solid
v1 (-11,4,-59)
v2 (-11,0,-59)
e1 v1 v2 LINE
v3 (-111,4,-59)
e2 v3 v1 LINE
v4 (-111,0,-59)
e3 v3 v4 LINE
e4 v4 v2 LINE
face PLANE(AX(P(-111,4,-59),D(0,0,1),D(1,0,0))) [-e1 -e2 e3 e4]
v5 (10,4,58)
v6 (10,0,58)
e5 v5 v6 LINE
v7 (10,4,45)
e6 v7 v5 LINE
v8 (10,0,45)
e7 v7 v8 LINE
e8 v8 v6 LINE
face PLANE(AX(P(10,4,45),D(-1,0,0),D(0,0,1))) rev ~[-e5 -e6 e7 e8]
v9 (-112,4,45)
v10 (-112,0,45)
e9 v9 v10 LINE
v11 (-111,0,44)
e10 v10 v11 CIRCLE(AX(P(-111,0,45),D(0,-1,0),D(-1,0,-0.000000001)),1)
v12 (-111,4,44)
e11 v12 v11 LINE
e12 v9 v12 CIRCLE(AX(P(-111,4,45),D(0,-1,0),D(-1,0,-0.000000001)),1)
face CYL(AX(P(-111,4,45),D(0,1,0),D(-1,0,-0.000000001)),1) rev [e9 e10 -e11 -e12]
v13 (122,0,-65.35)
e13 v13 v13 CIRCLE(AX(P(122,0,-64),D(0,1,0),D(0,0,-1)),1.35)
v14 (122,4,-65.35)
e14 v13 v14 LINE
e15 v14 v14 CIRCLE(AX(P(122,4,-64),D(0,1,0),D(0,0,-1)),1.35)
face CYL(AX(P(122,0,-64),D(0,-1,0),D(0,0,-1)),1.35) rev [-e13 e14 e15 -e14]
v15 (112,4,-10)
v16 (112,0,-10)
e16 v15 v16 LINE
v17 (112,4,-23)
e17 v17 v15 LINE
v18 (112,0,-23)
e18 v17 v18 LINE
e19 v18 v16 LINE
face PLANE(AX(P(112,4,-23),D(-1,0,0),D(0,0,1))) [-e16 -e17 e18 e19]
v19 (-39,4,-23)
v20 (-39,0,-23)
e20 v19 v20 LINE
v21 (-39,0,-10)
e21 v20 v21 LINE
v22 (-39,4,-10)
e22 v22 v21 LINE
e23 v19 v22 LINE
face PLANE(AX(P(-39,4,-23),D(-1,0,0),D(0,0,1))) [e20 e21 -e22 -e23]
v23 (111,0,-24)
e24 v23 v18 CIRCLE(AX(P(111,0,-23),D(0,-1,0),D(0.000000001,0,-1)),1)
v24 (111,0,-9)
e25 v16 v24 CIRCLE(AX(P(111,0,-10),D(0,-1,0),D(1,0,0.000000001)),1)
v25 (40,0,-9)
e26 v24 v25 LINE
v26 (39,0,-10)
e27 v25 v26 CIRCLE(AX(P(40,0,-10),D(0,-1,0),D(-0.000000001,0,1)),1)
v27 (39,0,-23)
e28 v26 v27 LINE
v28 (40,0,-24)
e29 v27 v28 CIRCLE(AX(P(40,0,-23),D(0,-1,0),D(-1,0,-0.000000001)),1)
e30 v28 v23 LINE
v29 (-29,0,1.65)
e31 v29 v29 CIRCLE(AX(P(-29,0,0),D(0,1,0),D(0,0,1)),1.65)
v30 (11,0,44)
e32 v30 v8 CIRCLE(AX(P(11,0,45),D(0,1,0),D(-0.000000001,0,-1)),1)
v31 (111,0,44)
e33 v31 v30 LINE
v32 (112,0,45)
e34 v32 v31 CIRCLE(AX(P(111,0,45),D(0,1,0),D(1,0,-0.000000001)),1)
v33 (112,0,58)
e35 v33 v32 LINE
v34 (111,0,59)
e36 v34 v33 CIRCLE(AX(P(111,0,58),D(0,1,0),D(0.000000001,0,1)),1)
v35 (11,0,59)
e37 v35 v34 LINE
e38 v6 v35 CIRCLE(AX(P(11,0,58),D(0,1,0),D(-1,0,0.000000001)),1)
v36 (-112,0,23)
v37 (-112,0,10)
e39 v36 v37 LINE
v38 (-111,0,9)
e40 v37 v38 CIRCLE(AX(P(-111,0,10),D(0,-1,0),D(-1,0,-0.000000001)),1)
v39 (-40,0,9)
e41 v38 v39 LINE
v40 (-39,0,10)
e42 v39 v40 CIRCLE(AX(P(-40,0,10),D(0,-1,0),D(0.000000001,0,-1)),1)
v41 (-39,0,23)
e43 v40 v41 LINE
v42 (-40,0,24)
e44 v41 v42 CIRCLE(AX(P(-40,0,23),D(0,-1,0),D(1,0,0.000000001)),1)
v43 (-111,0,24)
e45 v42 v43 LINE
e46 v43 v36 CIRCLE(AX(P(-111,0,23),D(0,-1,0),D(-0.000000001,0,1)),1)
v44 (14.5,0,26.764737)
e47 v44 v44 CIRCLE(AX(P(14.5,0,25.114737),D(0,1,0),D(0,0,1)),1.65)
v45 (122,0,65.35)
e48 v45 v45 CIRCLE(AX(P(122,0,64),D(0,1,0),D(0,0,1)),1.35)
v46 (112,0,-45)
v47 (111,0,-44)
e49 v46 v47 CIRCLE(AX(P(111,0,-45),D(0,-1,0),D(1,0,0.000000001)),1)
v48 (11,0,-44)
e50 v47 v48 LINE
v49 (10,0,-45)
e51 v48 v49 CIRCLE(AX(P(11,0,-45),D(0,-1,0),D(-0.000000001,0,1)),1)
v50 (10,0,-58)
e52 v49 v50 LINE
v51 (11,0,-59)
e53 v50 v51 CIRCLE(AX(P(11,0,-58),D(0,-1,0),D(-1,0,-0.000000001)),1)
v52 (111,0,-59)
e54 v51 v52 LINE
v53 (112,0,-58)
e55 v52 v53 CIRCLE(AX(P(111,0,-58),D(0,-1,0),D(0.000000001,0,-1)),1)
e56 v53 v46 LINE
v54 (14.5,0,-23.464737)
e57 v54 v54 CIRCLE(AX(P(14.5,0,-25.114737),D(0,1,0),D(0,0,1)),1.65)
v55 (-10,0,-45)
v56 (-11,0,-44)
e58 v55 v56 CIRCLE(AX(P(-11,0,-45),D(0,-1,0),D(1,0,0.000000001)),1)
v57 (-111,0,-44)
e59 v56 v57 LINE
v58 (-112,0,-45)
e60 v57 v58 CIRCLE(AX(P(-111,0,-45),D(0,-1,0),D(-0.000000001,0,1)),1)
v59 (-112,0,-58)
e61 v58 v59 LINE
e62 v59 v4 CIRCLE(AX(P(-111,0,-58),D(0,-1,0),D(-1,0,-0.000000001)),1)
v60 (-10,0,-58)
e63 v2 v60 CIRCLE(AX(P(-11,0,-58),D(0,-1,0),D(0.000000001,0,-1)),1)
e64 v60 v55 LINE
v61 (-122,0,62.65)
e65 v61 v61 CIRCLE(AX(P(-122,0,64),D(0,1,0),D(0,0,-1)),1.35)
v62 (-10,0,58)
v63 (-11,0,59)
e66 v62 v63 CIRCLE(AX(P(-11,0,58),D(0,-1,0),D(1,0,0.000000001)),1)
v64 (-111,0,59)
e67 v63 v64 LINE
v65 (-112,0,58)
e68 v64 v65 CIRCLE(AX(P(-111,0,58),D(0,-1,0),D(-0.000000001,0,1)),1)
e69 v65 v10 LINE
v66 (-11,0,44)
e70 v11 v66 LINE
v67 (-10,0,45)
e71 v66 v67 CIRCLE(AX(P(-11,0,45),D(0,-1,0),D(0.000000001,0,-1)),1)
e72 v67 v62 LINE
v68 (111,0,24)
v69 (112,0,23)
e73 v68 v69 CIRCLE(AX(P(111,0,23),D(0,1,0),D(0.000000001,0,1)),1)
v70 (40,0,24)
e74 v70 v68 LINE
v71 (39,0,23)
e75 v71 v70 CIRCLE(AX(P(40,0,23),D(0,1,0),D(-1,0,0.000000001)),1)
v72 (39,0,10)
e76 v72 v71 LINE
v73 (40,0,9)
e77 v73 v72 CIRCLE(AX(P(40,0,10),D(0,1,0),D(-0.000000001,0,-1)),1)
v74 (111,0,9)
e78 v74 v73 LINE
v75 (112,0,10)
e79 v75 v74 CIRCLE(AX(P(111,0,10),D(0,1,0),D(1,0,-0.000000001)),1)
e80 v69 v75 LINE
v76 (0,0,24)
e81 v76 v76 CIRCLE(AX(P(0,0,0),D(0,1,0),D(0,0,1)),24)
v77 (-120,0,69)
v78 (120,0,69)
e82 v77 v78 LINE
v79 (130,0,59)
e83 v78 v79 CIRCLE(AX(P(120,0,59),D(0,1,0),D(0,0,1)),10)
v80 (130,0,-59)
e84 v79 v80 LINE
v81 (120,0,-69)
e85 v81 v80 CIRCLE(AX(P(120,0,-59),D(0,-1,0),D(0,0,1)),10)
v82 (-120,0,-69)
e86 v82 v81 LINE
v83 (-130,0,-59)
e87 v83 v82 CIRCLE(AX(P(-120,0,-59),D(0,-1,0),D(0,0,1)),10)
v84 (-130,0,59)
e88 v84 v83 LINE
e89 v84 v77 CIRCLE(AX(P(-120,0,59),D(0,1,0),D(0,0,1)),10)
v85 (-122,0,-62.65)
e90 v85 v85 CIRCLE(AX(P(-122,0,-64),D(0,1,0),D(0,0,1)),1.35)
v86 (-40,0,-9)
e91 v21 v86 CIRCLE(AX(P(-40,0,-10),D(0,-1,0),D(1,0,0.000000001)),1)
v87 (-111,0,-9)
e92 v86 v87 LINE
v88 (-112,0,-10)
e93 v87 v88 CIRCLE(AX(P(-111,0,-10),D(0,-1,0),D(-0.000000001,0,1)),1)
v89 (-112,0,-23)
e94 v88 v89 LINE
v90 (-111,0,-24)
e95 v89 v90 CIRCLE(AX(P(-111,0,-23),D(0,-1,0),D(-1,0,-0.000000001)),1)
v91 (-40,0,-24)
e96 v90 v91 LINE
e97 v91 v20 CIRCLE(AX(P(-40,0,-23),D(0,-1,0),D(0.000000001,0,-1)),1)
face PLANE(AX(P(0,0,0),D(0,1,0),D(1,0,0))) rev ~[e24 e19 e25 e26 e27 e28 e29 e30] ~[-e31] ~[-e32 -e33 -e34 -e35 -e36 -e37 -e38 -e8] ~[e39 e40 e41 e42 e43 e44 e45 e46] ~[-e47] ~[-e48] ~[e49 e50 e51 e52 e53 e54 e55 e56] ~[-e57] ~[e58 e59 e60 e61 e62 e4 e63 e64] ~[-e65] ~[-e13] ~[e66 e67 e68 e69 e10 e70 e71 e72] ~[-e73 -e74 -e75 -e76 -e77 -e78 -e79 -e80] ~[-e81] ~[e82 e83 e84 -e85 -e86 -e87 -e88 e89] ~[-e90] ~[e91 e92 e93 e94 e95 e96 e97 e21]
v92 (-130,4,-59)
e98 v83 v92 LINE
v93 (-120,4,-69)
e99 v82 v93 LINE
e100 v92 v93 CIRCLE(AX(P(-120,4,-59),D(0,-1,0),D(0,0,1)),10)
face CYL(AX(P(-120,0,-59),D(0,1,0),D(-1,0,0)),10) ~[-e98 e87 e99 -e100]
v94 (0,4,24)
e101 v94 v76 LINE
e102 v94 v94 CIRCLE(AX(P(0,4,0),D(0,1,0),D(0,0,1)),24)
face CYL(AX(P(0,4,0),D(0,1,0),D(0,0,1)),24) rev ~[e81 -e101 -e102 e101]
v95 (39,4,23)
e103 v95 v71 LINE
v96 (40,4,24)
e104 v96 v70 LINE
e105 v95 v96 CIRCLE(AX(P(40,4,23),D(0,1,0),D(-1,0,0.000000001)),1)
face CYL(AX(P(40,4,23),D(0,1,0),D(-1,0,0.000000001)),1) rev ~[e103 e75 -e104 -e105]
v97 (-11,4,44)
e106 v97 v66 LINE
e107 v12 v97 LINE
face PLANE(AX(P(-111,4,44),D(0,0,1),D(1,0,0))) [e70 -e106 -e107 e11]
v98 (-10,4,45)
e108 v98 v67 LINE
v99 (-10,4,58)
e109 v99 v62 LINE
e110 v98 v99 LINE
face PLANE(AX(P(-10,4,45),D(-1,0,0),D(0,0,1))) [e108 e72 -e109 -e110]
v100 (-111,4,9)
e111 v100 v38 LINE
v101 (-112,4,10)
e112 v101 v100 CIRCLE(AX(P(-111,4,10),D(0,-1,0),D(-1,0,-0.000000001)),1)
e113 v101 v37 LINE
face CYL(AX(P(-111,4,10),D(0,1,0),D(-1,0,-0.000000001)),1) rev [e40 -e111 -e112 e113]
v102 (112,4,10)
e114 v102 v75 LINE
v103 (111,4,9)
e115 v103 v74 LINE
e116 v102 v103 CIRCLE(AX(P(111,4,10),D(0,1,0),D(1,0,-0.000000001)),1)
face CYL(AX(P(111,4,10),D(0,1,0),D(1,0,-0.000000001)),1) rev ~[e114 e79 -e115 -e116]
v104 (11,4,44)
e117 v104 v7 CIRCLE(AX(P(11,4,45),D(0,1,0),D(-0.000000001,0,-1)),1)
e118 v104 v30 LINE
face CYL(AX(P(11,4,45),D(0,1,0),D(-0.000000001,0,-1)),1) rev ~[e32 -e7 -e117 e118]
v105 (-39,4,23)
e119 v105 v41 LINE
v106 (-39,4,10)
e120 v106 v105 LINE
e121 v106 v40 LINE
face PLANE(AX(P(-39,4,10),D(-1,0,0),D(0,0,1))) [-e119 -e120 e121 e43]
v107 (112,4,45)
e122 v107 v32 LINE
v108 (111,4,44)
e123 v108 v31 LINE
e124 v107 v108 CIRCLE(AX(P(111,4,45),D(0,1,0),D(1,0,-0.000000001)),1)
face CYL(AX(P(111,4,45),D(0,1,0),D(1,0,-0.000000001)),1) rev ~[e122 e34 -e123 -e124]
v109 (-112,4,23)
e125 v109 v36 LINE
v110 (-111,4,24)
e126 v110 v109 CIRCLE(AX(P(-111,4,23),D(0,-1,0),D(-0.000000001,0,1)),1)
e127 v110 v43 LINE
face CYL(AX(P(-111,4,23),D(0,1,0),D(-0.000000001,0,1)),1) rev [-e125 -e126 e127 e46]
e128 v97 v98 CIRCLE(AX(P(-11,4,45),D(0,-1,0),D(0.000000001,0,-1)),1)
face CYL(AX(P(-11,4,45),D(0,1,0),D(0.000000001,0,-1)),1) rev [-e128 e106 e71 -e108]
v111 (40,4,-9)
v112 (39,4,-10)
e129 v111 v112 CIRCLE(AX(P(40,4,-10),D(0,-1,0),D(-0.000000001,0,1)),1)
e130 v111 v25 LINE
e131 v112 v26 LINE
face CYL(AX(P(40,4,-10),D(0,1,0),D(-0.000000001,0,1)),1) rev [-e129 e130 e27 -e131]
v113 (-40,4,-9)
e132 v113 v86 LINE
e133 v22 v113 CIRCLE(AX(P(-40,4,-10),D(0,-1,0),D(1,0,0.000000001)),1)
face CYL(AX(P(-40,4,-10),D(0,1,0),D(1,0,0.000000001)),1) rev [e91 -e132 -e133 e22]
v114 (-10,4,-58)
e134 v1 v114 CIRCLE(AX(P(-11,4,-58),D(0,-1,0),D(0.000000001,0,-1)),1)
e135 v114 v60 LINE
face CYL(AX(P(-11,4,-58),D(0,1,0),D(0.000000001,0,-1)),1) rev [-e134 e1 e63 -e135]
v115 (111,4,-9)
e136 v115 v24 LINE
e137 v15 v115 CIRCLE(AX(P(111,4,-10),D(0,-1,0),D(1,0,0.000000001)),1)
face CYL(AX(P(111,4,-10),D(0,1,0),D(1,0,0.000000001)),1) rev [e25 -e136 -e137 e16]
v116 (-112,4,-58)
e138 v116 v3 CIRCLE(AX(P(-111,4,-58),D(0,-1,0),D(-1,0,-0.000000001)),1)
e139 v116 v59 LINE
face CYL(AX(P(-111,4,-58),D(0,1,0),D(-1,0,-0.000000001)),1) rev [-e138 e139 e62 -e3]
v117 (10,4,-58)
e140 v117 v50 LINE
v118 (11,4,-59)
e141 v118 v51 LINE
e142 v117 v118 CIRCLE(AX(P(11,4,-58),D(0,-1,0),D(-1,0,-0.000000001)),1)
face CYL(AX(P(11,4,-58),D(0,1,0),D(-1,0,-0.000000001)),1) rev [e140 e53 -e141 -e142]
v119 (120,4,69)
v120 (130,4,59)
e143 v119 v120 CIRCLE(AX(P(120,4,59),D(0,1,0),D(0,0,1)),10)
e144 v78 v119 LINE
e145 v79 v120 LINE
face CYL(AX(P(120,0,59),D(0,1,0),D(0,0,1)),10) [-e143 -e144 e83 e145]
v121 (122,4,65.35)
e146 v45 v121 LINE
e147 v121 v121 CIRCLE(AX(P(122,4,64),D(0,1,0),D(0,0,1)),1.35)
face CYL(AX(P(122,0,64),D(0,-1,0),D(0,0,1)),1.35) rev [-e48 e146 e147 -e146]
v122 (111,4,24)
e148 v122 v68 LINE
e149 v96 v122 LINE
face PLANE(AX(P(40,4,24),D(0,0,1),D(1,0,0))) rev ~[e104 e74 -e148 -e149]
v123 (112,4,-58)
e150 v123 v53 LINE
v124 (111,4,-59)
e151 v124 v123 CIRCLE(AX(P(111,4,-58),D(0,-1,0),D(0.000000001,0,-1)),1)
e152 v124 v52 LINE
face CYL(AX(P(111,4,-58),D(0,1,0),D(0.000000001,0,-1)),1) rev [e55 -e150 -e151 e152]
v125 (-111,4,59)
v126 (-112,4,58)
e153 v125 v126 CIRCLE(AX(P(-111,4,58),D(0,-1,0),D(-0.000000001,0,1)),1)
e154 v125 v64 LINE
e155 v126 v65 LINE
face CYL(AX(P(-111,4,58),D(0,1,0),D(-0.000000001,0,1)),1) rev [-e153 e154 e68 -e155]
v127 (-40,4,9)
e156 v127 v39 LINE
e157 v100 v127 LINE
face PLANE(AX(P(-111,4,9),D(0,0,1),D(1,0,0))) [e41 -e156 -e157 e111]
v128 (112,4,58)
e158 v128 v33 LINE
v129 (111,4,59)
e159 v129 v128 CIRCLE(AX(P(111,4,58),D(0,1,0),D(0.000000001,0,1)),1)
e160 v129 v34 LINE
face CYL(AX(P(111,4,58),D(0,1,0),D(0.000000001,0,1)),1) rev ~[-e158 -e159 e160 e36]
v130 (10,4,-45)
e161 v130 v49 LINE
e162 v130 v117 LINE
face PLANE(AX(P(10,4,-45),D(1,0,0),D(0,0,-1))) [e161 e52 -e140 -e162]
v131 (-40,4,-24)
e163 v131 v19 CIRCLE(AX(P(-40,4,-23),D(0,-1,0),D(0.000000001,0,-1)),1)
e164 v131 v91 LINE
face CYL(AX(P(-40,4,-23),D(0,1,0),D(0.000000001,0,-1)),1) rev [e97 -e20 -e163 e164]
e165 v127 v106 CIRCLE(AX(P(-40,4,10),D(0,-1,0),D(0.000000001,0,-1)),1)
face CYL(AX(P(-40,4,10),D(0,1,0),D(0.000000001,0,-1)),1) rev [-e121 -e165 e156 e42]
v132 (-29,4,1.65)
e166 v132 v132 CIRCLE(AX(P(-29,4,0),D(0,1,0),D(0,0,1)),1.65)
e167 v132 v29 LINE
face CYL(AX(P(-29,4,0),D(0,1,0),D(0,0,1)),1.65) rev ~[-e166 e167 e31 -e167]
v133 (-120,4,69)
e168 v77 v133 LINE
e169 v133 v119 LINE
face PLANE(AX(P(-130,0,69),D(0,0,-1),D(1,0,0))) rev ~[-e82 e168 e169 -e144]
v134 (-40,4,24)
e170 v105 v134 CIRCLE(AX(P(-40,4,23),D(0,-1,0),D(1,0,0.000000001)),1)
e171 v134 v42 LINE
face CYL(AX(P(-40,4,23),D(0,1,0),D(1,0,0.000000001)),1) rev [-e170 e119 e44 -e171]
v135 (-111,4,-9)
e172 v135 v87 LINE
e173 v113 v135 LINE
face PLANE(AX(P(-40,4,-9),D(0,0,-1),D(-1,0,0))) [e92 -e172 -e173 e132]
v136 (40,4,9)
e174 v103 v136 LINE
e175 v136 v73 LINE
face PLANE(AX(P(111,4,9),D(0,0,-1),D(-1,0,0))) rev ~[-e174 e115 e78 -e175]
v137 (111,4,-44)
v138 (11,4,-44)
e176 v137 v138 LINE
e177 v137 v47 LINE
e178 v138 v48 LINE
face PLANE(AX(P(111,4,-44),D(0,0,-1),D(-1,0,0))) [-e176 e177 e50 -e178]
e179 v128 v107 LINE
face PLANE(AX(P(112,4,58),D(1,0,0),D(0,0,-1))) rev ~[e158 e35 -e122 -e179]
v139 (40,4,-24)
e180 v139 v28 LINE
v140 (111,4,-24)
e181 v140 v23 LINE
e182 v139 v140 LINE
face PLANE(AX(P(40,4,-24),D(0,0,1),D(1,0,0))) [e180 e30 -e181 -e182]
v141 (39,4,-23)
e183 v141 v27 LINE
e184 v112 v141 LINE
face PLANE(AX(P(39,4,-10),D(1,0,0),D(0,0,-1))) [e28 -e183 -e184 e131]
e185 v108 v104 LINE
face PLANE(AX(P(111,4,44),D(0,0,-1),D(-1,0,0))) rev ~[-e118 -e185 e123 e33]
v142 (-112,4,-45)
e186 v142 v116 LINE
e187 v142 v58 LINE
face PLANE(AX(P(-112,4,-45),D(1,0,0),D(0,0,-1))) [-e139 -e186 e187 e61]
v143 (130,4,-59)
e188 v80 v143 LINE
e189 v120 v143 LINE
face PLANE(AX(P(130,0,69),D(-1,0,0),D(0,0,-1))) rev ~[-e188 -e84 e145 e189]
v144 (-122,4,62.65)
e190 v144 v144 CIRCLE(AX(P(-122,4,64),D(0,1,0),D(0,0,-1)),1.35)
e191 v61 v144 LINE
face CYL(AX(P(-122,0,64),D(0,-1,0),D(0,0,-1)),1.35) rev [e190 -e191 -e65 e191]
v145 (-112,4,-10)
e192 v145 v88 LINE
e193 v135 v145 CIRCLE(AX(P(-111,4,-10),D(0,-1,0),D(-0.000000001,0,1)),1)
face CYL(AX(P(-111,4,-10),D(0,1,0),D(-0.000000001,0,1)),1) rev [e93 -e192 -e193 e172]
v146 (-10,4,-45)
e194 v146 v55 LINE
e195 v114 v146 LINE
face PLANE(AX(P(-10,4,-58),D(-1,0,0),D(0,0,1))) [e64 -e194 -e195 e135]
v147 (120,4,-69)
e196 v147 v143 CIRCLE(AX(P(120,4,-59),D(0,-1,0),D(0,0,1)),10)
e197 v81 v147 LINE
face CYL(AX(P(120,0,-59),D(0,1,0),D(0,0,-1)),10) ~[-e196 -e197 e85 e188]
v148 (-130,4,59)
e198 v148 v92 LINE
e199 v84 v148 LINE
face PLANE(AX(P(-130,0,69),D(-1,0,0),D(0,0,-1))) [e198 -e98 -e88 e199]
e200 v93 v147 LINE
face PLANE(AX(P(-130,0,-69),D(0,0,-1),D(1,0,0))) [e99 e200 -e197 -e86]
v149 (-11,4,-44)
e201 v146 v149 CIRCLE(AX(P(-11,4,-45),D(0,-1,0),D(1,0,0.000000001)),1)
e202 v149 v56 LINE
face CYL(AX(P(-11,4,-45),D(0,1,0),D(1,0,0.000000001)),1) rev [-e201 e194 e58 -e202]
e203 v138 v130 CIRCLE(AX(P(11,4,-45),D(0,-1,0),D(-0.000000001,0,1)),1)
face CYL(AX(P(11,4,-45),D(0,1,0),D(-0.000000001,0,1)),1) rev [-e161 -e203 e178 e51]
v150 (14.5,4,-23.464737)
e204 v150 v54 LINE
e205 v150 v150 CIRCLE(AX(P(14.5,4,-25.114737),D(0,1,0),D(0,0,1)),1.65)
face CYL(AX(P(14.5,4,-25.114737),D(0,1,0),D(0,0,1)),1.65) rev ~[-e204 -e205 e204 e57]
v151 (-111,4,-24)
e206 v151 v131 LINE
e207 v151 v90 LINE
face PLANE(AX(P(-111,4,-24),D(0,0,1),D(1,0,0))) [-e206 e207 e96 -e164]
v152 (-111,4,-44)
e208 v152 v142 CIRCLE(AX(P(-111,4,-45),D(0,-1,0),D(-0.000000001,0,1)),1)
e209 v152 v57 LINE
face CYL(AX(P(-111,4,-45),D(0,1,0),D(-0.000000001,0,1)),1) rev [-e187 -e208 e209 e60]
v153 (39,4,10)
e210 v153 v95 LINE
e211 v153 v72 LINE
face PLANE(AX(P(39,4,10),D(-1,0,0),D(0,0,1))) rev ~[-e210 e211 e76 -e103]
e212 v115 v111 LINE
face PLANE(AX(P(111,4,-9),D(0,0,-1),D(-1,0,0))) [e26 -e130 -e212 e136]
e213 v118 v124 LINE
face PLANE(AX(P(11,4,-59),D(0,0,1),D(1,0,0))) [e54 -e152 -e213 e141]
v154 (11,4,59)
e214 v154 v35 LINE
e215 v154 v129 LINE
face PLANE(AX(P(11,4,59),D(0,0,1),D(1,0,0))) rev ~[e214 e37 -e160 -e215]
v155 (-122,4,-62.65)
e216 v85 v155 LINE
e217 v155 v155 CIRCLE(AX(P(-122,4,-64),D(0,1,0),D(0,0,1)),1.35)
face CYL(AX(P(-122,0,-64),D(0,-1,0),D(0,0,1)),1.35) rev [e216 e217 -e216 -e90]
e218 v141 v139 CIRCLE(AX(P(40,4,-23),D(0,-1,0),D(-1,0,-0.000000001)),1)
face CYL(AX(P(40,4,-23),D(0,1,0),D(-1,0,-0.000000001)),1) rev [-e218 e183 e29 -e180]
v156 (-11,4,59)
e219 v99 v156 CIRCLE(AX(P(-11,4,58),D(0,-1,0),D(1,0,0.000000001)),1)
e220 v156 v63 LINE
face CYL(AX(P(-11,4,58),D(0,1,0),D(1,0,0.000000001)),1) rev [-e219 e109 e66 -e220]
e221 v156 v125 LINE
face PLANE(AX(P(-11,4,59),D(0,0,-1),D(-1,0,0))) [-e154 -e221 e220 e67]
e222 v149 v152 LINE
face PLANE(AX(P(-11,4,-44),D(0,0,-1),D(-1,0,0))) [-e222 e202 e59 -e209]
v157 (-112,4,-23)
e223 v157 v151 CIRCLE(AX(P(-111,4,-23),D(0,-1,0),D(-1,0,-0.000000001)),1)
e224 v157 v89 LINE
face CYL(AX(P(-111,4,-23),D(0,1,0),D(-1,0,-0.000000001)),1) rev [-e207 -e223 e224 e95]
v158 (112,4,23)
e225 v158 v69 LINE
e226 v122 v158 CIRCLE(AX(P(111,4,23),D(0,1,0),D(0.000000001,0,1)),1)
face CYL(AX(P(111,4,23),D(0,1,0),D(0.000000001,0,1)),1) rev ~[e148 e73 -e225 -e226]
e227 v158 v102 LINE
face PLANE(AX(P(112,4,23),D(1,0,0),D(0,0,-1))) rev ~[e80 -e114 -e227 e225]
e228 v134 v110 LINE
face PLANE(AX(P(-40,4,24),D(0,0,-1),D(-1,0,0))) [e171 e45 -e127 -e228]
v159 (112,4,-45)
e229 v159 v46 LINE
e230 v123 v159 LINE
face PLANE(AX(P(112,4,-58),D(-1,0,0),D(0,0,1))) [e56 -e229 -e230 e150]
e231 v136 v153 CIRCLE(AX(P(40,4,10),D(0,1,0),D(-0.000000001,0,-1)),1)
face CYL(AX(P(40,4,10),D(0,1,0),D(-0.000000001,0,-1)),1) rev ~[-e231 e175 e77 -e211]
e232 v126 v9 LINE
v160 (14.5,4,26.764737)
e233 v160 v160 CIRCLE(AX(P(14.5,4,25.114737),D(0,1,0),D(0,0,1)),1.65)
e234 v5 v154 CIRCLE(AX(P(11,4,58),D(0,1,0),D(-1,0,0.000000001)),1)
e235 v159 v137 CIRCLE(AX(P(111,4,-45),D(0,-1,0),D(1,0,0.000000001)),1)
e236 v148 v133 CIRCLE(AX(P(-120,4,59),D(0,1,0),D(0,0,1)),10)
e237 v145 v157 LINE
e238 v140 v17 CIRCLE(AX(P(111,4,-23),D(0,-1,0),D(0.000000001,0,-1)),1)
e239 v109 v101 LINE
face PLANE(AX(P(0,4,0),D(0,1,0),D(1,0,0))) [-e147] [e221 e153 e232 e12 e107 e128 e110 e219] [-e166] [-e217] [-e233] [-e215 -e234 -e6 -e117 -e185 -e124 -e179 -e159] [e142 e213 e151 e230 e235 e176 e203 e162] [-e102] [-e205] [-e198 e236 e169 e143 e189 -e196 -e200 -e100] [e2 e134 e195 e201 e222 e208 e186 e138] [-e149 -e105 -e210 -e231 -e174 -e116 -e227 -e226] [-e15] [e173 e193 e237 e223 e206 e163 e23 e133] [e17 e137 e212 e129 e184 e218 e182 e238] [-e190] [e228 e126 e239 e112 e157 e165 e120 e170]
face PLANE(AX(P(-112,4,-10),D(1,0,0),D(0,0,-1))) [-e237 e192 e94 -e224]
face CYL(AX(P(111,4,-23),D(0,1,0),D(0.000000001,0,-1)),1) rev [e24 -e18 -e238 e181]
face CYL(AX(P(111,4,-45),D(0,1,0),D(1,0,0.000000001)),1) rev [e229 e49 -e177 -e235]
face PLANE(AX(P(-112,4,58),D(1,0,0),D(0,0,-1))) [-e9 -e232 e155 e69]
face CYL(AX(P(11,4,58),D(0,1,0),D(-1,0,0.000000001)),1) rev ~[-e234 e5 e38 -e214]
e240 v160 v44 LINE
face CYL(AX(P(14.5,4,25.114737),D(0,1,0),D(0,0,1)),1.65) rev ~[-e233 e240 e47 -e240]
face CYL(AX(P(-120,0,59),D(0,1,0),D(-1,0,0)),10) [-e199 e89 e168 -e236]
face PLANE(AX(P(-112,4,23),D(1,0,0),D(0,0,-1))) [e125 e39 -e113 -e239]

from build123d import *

# Parameters (mm, degrees)
SKETCH_1_W          = 260
SKETCH_1_H          = 138
SKETCH_1_R          = 1.35
EXTRUDE_1_DEPTH     = 4
SKETCH_3_R          = 24
SKETCH_3_R_2        = 1.65
CUT_EXTRUDE_1_DEPTH = 4
CUT_EXTRUDE_3_DEPTH = 4
FILLET_1_R          = 10


with BuildPart() as part:
    # 草图1 → 凸台-拉伸1 (new body)
    with BuildSketch(Plane(origin=(0, 0, 0), x_dir=(1, 0, 0), z_dir=(0, 1, 0))):
        Rectangle(SKETCH_1_W, SKETCH_1_H)
        with Locations(Location((-122, 64, 0), (0, 0, 270))):
            Circle(SKETCH_1_R, mode=Mode.SUBTRACT)
        with Locations(Location((122, 64, 0), (0, 0, 90))):
            Circle(SKETCH_1_R, mode=Mode.SUBTRACT)
        with Locations(Location((122, -64, 0), (0, 0, 270))):
            Circle(SKETCH_1_R, mode=Mode.SUBTRACT)
        with Locations(Location((-122, -64, 0), (0, 0, 90))):
            Circle(SKETCH_1_R, mode=Mode.SUBTRACT)
    extrude(amount=EXTRUDE_1_DEPTH)

    # 草图3 → 切除-拉伸1 (cut)
    with BuildSketch(Plane(origin=(0, 4, 0), x_dir=(1, 0, 0), z_dir=(0, 1, 0))):
        with Locations(Location((0, 0, 0), (0, 0, 270))):
            Circle(SKETCH_3_R)
        with Locations(Location((-29, 0, 0), (0, 0, 270))):
            Circle(SKETCH_3_R_2)
        with Locations(Location((14.5, 25.11473671, 0), (0, 0, 270))):
            Circle(SKETCH_3_R_2)
        with Locations(Location((14.5, -25.11473671, 0), (0, 0, 270))):
            Circle(SKETCH_3_R_2)
    extrude(amount=-CUT_EXTRUDE_1_DEPTH, mode=Mode.SUBTRACT)

    # 草图4 → 切除-拉伸3 (cut)
    with BuildSketch(Plane(origin=(0, 4, 0), x_dir=(1, 0, 0), z_dir=(0, 1, 0))):
        with BuildLine():
            Line((-111, 59), (-11, 59))
            ThreePointArc((-11, 59), (-10.292893219, 58.707106781), (-10, 58))
            Line((-10, 58), (-10, 45))
            ThreePointArc((-10, 45), (-10.292893219, 44.292893219), (-11, 44))
            Line((-11, 44), (-111, 44))
            ThreePointArc((-111, 44), (-111.707106781, 44.292893219), (-112, 45))
            Line((-112, 45), (-112, 58))
            ThreePointArc((-112, 58), (-111.707106781, 58.707106781), (-111, 59))
        make_face()
        with BuildLine():
            Line((-111, 24), (-40, 24))
            ThreePointArc((-40, 24), (-39.292893219, 23.707106781), (-39, 23))
            Line((-39, 23), (-39, 10))
            ThreePointArc((-39, 10), (-39.292893219, 9.292893219), (-40, 9))
            Line((-40, 9), (-111, 9))
            ThreePointArc((-111, 9), (-111.707106781, 9.292893219), (-112, 10))
            Line((-112, 10), (-112, 23))
            ThreePointArc((-112, 23), (-111.707106781, 23.707106781), (-111, 24))
        make_face()
        with BuildLine():
            Line((111, 9), (40, 9))
            ThreePointArc((40, 9), (39.292893219, 9.292893219), (39, 10))
            Line((39, 10), (39, 23))
            ThreePointArc((39, 23), (39.292893219, 23.707106781), (40, 24))
            Line((40, 24), (111, 24))
            ThreePointArc((111, 24), (111.707106781, 23.707106781), (112, 23))
            Line((112, 23), (112, 10))
            ThreePointArc((112, 10), (111.707106781, 9.292893219), (111, 9))
        make_face()
        with BuildLine():
            Line((111, 44), (11, 44))
            ThreePointArc((11, 44), (10.292893219, 44.292893219), (10, 45))
            Line((10, 45), (10, 58))
            ThreePointArc((10, 58), (10.292893219, 58.707106781), (11, 59))
            Line((11, 59), (111, 59))
            ThreePointArc((111, 59), (111.707106781, 58.707106781), (112, 58))
            Line((112, 58), (112, 45))
            ThreePointArc((112, 45), (111.707106781, 44.292893219), (111, 44))
        make_face()
        with BuildLine():
            Line((111, -9), (40, -9))
            ThreePointArc((40, -9), (39.292893219, -9.292893219), (39, -10))
            Line((39, -10), (39, -23))
            ThreePointArc((39, -23), (39.292893219, -23.707106781), (40, -24))
            Line((40, -24), (111, -24))
            ThreePointArc((111, -24), (111.707106781, -23.707106781), (112, -23))
            Line((112, -23), (112, -10))
            ThreePointArc((112, -10), (111.707106781, -9.292893219), (111, -9))
        make_face()
        with BuildLine():
            Line((-111, -9), (-40, -9))
            ThreePointArc((-40, -9), (-39.292893219, -9.292893219), (-39, -10))
            Line((-39, -10), (-39, -23))
            ThreePointArc((-39, -23), (-39.292893219, -23.707106781), (-40, -24))
            Line((-40, -24), (-111, -24))
            ThreePointArc((-111, -24), (-111.707106781, -23.707106781), (-112, -23))
            Line((-112, -23), (-112, -10))
            ThreePointArc((-112, -10), (-111.707106781, -9.292893219), (-111, -9))
        make_face()
        with BuildLine():
            Line((111, -44), (11, -44))
            ThreePointArc((11, -44), (10.292893219, -44.292893219), (10, -45))
            Line((10, -45), (10, -58))
            ThreePointArc((10, -58), (10.292893219, -58.707106781), (11, -59))
            Line((11, -59), (111, -59))
            ThreePointArc((111, -59), (111.707106781, -58.707106781), (112, -58))
            Line((112, -58), (112, -45))
            ThreePointArc((112, -45), (111.707106781, -44.292893219), (111, -44))
        make_face()
        with BuildLine():
            Line((-111, -44), (-11, -44))
            ThreePointArc((-11, -44), (-10.292893219, -44.292893219), (-10, -45))
            Line((-10, -45), (-10, -58))
            ThreePointArc((-10, -58), (-10.292893219, -58.707106781), (-11, -59))
            Line((-11, -59), (-111, -59))
            ThreePointArc((-111, -59), (-111.707106781, -58.707106781), (-112, -58))
            Line((-112, -58), (-112, -45))
            ThreePointArc((-112, -45), (-111.707106781, -44.292893219), (-111, -44))
        make_face()
    extrude(amount=-CUT_EXTRUDE_3_DEPTH, mode=Mode.SUBTRACT)

    # 圆角1
    fillet_1_edges = [part.edges().sort_by_distance(p)[0] for p in [
        (130, 2, 69),
        (-130, 2, 69),
        (-130, 2, -69),
        (130, 2, -69),
    ]]
    fillet(fillet_1_edges, radius=FILLET_1_R)


solid = part.part
